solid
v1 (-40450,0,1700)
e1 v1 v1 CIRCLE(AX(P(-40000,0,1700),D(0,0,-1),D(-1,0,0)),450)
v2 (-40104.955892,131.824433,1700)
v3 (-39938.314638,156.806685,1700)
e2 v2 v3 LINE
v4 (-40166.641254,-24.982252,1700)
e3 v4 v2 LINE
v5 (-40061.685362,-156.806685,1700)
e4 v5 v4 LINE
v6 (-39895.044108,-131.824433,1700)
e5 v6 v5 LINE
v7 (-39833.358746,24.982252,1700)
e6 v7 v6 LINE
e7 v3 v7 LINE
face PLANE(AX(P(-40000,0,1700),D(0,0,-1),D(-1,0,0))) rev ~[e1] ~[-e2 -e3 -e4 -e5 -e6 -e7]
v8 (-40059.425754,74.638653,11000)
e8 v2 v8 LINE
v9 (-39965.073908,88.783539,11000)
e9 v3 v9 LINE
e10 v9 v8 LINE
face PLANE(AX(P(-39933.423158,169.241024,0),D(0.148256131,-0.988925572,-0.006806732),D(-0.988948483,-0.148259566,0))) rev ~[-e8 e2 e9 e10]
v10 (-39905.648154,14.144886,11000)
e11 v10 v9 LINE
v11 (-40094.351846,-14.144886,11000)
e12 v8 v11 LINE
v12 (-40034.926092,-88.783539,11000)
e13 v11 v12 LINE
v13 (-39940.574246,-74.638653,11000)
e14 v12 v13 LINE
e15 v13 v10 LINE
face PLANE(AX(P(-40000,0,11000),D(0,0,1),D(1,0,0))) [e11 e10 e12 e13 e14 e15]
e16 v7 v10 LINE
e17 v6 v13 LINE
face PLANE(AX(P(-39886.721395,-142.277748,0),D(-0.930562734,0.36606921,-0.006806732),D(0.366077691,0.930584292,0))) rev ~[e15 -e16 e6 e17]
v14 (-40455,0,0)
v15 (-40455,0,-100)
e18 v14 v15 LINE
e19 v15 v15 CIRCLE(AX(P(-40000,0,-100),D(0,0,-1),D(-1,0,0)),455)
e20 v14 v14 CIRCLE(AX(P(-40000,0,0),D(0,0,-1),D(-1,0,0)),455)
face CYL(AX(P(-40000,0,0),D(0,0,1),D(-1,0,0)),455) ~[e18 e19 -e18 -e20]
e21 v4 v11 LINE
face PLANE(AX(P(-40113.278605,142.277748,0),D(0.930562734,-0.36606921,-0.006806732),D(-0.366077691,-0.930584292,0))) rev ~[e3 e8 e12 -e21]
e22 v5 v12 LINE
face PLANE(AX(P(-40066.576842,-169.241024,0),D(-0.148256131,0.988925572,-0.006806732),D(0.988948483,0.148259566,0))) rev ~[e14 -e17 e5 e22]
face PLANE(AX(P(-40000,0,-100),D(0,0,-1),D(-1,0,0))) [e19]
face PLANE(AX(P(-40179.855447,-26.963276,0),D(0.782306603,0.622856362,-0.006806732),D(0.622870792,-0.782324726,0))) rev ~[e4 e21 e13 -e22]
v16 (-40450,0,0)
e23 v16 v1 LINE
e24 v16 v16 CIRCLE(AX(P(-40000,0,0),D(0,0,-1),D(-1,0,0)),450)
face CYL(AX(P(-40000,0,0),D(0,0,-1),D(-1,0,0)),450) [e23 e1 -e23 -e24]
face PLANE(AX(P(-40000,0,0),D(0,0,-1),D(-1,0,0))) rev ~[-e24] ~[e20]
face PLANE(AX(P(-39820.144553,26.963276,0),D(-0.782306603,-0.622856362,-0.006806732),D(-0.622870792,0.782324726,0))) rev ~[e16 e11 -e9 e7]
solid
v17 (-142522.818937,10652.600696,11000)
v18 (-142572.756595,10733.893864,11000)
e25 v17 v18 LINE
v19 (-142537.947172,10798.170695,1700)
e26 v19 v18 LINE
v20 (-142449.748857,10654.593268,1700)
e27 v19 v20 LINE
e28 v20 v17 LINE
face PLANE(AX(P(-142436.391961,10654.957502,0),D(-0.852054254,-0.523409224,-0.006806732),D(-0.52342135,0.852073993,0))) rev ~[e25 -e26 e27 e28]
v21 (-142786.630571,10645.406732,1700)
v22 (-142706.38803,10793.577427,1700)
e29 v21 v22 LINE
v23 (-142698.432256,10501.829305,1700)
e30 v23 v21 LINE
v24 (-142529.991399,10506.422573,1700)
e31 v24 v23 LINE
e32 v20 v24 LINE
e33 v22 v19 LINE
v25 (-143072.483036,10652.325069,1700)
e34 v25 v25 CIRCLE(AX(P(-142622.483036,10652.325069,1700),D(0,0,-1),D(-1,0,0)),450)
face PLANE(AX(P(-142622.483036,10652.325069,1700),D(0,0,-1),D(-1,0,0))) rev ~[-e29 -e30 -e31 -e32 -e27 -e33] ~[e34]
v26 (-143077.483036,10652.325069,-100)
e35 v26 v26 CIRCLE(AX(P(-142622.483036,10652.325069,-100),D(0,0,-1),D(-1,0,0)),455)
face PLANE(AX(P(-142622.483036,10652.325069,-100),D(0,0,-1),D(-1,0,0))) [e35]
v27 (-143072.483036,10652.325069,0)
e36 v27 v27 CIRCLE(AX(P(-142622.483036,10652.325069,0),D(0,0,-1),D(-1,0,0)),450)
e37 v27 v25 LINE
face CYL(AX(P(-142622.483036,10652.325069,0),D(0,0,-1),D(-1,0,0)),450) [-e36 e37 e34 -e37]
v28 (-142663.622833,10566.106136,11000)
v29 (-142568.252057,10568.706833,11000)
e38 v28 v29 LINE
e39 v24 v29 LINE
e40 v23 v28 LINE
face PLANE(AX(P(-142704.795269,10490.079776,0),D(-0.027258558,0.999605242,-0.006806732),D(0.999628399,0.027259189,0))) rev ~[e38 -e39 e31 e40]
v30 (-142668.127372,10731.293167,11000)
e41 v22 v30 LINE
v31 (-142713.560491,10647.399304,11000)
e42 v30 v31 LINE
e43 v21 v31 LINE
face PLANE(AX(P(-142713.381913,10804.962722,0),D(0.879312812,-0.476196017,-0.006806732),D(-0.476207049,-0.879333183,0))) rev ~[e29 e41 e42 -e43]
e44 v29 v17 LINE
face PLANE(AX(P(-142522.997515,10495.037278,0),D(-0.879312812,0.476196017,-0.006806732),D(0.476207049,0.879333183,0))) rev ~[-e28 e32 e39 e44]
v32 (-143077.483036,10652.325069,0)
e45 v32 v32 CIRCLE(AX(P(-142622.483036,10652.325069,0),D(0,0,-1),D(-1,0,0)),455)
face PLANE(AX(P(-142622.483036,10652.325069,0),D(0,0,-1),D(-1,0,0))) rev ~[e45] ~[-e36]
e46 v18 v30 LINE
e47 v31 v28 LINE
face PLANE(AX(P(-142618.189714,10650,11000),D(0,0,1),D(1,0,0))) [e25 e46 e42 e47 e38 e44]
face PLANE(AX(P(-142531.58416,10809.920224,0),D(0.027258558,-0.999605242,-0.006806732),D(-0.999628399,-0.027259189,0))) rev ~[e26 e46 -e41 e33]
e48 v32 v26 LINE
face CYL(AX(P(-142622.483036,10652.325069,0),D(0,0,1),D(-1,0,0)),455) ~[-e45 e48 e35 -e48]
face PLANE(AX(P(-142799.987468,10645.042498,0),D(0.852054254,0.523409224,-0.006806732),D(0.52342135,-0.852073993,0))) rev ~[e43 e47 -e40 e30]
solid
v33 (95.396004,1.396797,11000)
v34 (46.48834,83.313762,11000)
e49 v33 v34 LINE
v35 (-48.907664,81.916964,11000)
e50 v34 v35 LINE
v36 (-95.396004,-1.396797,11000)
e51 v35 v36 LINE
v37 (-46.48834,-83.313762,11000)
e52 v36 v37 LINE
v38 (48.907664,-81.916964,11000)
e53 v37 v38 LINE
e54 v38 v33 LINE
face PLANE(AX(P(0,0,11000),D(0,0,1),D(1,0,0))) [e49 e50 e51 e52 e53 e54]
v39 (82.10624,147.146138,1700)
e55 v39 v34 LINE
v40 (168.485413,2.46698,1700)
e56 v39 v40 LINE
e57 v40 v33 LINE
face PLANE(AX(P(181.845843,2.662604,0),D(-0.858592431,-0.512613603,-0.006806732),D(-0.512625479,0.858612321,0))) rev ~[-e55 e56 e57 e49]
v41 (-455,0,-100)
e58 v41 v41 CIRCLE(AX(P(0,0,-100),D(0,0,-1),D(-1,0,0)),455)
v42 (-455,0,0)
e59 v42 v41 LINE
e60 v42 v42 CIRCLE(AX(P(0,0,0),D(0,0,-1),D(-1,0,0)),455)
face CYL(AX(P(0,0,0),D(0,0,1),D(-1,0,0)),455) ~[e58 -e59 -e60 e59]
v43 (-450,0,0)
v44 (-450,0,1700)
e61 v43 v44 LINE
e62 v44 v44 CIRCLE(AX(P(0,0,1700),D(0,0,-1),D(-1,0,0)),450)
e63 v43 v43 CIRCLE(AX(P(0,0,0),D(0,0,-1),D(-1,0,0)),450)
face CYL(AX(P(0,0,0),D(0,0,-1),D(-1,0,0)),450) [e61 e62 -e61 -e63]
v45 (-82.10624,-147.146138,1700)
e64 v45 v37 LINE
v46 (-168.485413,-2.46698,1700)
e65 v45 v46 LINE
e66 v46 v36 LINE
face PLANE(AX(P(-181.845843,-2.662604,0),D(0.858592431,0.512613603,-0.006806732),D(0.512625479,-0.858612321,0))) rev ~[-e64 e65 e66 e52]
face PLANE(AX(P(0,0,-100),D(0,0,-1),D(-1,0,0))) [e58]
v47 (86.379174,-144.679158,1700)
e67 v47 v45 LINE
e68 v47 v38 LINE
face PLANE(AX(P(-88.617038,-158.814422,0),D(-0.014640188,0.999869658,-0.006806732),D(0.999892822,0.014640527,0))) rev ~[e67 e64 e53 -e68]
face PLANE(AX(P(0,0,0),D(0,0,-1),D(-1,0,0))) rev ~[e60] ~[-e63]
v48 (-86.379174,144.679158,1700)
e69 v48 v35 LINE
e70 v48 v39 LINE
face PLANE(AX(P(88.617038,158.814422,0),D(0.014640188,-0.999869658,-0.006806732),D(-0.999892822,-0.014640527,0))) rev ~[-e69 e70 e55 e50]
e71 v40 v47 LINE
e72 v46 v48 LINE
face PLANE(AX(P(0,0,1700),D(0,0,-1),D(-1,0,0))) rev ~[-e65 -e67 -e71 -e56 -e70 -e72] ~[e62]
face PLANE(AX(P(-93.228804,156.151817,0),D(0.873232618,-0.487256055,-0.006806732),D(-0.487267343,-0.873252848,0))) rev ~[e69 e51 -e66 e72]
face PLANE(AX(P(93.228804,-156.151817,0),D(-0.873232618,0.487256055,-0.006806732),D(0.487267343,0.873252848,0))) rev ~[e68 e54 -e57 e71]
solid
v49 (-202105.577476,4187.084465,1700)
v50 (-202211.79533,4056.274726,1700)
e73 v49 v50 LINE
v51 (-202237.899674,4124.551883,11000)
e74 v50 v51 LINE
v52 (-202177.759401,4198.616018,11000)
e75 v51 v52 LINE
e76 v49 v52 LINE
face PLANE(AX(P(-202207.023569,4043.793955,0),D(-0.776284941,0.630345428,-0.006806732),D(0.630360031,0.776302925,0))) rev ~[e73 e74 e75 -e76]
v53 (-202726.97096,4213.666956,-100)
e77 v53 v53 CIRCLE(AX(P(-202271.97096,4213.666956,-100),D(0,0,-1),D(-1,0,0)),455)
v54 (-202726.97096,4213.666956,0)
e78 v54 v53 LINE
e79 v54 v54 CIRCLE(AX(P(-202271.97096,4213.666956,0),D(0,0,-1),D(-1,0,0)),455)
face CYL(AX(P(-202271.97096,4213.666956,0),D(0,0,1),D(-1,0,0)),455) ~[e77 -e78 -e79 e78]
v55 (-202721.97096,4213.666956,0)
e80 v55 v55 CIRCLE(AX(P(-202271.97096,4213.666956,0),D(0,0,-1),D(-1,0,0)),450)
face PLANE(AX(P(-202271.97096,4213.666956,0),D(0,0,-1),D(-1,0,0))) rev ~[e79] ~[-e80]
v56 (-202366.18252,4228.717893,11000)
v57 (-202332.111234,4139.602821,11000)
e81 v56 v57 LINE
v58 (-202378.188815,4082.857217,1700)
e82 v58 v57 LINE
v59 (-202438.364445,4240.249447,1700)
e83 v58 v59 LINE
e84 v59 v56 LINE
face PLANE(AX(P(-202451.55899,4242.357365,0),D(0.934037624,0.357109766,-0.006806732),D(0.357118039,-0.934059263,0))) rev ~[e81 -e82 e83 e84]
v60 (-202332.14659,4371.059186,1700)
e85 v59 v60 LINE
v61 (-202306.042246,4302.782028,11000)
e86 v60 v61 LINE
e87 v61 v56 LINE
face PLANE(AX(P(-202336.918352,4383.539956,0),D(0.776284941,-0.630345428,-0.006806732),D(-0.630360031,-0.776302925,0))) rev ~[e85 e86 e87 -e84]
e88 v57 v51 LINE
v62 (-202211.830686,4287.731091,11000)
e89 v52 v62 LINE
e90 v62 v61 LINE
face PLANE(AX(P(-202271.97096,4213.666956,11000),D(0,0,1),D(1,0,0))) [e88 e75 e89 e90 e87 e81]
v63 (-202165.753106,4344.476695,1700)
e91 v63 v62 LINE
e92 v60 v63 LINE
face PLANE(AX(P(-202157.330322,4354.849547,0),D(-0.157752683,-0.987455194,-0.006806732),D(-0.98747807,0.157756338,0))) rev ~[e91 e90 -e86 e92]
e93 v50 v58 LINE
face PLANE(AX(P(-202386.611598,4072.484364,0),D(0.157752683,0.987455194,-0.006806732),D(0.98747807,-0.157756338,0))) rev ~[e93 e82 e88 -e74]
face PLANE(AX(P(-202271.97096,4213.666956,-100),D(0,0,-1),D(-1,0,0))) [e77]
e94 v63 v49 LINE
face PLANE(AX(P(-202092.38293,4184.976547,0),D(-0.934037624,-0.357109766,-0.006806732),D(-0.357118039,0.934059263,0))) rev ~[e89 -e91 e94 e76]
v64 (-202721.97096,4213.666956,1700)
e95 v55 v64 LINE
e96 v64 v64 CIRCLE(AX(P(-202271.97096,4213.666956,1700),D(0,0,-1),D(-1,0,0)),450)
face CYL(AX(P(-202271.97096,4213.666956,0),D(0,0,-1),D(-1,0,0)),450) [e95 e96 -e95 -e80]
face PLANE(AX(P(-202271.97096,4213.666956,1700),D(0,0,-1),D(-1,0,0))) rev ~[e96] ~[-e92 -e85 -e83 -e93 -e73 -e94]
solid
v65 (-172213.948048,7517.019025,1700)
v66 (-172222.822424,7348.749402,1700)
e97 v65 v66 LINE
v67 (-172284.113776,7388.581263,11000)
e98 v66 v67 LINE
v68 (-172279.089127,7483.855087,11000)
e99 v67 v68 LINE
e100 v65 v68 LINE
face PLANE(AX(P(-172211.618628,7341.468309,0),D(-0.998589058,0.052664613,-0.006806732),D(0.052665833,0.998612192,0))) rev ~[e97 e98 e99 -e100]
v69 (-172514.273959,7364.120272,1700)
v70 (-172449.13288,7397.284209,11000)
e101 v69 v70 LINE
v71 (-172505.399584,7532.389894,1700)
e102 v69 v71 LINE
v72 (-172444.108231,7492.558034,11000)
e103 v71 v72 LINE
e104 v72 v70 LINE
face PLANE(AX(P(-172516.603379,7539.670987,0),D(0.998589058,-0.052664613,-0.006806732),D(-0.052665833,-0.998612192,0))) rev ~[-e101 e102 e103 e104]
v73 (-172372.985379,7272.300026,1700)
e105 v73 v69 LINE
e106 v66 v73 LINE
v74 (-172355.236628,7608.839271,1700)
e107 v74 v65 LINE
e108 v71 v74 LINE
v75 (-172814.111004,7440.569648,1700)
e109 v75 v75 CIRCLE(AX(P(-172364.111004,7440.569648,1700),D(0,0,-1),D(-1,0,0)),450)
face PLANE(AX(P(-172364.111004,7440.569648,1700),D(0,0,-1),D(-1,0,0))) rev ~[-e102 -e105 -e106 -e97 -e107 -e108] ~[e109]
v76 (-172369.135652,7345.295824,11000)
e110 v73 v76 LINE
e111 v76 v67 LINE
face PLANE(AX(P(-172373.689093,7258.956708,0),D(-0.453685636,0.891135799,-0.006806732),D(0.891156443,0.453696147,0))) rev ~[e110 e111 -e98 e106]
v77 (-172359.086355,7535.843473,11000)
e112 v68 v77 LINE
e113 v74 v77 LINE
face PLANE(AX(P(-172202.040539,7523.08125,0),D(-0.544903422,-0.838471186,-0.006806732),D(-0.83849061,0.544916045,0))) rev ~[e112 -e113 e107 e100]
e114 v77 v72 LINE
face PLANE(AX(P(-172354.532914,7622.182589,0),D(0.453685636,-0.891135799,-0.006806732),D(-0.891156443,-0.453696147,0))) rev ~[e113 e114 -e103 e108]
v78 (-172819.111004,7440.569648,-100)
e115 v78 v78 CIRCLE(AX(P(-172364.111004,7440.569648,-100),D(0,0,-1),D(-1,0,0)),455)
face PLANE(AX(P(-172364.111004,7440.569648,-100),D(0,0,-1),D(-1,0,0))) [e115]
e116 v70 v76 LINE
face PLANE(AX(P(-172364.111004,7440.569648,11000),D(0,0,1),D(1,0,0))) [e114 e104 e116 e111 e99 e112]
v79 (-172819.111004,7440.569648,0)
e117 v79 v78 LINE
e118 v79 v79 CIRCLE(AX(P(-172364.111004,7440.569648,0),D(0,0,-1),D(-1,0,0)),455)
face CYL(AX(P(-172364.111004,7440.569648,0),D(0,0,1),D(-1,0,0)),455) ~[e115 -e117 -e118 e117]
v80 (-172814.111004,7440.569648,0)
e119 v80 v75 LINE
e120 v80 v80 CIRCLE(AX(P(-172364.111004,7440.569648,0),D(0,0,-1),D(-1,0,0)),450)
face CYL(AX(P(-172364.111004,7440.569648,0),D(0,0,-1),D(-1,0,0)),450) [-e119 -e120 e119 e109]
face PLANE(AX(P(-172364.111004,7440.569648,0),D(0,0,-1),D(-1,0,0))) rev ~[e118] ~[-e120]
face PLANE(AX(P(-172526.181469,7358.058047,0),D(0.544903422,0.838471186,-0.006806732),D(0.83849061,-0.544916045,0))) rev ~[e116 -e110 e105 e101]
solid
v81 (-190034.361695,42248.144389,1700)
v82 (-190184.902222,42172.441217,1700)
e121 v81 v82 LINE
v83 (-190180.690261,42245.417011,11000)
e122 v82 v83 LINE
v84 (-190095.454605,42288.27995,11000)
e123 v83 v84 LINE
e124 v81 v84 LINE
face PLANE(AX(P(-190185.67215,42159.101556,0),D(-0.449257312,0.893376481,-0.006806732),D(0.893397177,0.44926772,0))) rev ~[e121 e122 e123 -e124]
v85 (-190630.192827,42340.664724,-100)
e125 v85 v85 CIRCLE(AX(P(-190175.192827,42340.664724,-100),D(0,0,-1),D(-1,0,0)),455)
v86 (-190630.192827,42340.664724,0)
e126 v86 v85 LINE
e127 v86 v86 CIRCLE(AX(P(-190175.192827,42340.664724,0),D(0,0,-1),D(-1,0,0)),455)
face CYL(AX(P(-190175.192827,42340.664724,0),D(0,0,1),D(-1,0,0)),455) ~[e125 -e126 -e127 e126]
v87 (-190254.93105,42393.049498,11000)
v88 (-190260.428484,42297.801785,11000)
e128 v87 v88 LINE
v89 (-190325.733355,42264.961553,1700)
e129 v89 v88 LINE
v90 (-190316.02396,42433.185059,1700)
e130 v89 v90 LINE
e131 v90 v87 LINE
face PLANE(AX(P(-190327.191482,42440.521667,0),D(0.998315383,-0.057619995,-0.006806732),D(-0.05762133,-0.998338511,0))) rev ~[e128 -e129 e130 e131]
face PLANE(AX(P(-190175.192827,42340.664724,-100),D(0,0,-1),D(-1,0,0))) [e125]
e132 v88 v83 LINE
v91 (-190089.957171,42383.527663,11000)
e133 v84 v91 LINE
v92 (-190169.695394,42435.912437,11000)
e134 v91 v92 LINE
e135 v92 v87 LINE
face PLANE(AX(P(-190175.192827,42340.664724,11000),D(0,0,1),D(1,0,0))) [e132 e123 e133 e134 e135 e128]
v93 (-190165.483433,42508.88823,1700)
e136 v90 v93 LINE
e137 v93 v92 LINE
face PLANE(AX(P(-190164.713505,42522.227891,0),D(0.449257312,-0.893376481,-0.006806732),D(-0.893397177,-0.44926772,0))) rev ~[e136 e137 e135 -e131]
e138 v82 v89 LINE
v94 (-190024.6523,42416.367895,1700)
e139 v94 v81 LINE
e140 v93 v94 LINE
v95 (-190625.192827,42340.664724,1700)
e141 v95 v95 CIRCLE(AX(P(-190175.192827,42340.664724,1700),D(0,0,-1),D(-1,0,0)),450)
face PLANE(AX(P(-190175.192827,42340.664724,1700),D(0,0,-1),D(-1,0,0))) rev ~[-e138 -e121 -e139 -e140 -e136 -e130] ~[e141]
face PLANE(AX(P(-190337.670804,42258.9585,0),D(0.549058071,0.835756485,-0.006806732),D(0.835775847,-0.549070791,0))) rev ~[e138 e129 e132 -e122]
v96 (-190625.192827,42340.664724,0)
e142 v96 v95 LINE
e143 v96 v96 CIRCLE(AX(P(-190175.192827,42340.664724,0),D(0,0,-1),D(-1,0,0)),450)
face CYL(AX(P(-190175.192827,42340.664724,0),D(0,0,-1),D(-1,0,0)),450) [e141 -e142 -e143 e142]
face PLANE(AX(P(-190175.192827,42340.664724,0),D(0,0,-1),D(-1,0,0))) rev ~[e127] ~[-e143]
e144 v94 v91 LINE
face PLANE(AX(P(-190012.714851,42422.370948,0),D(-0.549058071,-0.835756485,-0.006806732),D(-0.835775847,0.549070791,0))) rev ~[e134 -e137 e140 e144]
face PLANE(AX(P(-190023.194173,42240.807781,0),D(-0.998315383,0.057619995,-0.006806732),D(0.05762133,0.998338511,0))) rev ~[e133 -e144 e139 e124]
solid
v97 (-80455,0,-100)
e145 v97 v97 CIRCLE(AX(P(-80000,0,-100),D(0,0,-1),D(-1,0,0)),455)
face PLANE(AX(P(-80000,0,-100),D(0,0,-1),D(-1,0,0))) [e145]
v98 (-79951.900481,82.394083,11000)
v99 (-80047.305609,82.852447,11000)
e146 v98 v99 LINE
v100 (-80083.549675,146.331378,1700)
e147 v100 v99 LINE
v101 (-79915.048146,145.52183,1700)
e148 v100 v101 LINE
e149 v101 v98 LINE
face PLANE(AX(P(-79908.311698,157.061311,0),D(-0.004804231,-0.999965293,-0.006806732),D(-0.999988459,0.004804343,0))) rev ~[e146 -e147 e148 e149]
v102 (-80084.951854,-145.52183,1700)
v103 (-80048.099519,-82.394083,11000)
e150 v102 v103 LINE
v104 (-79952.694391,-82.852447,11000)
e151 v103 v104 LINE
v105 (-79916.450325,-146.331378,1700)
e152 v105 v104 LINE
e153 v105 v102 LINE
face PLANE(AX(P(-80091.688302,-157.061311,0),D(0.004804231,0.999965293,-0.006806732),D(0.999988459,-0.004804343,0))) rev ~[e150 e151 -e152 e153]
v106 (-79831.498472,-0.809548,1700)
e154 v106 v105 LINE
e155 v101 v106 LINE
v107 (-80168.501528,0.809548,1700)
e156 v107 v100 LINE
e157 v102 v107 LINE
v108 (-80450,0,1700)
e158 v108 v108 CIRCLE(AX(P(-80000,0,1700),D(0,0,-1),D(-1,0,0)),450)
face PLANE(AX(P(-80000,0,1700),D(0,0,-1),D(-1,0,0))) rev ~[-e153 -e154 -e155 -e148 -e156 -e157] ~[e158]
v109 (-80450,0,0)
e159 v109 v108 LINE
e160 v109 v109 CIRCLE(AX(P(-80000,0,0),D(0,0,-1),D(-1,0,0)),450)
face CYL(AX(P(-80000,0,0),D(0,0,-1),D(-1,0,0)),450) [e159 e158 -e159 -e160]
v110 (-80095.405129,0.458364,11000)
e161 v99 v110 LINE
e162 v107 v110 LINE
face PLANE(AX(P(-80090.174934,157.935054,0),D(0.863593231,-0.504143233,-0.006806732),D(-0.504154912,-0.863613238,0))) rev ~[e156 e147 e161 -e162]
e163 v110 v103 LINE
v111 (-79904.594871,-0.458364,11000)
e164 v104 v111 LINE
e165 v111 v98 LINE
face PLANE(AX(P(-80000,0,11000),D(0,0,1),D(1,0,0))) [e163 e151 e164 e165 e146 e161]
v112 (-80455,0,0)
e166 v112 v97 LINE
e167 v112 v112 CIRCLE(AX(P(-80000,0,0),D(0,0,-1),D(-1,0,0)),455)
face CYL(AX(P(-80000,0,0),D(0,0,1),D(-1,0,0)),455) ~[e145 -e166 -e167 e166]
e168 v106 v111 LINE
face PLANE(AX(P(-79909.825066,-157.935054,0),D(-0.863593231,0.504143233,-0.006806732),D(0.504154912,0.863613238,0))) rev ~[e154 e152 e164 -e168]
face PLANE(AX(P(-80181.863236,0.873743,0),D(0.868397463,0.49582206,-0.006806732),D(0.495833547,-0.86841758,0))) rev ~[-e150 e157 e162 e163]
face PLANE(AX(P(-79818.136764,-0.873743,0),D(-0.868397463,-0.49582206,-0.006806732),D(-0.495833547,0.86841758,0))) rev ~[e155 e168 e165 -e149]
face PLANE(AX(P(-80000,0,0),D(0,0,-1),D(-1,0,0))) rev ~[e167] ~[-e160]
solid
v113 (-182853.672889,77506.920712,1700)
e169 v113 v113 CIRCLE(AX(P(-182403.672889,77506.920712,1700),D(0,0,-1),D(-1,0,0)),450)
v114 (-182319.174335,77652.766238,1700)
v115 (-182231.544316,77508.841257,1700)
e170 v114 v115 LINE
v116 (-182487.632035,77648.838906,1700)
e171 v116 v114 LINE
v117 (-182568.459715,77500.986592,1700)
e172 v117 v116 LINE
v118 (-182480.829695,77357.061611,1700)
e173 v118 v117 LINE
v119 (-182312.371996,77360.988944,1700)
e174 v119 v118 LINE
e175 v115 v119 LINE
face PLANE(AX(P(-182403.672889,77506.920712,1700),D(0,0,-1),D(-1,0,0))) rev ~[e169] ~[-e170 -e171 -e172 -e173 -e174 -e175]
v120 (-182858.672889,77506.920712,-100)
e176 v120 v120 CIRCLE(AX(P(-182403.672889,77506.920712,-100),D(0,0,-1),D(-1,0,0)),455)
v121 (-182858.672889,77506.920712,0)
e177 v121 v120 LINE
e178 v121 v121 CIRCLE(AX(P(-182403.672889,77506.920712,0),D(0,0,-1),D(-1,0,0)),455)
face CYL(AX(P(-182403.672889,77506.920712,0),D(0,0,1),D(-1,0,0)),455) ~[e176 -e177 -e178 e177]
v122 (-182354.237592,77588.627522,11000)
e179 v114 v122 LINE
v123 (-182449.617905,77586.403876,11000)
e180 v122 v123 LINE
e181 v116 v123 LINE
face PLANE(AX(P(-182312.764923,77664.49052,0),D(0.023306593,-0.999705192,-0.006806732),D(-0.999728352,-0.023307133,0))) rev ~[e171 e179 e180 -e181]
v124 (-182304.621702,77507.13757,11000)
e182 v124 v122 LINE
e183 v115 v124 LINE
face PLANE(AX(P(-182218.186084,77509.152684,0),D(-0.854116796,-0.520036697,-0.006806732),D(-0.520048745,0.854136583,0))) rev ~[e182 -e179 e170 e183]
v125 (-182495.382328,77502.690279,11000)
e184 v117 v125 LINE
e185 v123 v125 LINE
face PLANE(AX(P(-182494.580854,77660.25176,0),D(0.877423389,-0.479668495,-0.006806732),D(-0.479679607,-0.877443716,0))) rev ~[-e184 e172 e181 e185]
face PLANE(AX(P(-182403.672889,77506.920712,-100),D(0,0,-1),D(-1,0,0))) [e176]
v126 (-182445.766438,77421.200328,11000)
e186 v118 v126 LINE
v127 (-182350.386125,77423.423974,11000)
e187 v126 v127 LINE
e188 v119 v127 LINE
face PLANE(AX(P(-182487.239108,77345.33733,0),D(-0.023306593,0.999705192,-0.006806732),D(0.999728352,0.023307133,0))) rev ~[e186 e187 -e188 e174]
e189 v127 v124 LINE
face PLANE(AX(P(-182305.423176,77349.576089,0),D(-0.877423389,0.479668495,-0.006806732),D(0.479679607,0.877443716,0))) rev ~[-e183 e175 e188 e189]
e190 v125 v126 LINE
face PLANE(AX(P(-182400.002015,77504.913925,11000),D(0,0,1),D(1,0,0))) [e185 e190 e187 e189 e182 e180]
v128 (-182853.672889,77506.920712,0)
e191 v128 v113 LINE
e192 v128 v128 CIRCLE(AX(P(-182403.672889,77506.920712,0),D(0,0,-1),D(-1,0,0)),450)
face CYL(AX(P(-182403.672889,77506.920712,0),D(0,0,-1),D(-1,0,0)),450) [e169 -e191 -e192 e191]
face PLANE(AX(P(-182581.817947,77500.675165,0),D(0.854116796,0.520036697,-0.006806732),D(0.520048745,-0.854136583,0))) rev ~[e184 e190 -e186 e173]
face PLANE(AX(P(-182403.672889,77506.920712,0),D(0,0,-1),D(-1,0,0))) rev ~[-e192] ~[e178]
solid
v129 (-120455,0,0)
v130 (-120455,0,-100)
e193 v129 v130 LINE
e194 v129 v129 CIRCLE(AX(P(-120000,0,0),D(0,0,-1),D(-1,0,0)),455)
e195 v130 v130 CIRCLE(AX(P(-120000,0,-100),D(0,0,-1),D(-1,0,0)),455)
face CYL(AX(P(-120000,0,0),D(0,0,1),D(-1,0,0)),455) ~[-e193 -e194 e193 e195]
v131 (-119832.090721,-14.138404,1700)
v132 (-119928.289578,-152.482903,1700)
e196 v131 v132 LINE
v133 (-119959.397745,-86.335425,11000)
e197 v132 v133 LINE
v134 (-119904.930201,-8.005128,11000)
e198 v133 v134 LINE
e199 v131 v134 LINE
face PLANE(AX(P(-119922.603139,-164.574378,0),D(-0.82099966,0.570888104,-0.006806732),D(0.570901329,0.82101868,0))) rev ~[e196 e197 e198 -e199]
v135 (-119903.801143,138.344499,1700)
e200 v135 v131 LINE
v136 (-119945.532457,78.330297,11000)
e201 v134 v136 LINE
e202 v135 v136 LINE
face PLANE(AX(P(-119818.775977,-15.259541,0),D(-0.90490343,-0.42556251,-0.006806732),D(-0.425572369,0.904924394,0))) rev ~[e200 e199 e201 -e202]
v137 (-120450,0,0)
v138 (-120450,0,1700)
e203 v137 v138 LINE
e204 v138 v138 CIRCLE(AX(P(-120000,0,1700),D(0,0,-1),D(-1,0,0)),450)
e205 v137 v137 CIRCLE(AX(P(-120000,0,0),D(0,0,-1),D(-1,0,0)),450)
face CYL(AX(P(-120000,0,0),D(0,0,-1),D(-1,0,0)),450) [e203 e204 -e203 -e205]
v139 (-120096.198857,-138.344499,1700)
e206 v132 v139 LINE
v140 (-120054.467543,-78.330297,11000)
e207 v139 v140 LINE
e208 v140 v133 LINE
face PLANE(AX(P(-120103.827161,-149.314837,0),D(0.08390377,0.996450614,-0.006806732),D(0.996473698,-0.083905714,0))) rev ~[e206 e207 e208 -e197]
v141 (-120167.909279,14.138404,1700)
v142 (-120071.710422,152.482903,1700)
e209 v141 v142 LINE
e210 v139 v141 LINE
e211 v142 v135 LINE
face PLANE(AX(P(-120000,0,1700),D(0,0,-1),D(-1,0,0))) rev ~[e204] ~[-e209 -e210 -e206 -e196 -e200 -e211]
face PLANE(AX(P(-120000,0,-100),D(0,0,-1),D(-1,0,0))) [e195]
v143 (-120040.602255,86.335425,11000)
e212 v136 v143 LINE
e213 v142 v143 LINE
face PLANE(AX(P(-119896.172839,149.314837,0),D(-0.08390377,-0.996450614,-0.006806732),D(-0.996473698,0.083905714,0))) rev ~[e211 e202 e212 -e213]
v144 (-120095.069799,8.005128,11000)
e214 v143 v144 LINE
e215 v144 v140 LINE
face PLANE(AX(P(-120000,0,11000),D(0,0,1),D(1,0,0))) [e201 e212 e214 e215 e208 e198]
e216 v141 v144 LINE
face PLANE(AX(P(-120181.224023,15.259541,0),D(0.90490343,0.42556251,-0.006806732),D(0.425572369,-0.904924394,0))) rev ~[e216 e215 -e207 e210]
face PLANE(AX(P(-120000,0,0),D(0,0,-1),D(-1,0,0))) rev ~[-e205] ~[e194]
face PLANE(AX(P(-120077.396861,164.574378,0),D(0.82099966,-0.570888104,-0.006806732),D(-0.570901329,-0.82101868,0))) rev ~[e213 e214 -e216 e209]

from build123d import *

# Parameters (mm, degrees)
SALIENTE_EXTRUIR1_DEPTH           = 11000
SALIENTE_EXTRUIR1_DRAFT           = 0.39
SALIENTE_EXTRUIR1_PROFILE_2_DEPTH = 11000
SALIENTE_EXTRUIR1_PROFILE_2_DRAFT = 0.39
SALIENTE_EXTRUIR1_PROFILE_3_DEPTH = 11000
SALIENTE_EXTRUIR1_PROFILE_3_DRAFT = 0.39
SALIENTE_EXTRUIR1_PROFILE_4_DEPTH = 11000
SALIENTE_EXTRUIR1_PROFILE_4_DRAFT = 0.39
SALIENTE_EXTRUIR1_PROFILE_5_DEPTH = 11000
SALIENTE_EXTRUIR1_PROFILE_5_DRAFT = 0.39
SALIENTE_EXTRUIR1_PROFILE_6_DEPTH = 11000
SALIENTE_EXTRUIR1_PROFILE_6_DRAFT = 0.39
SALIENTE_EXTRUIR1_PROFILE_7_DEPTH = 11000
SALIENTE_EXTRUIR1_PROFILE_7_DRAFT = 0.39
SALIENTE_EXTRUIR1_PROFILE_8_DEPTH = 11000
SALIENTE_EXTRUIR1_PROFILE_8_DRAFT = 0.39
SALIENTE_EXTRUIR1_PROFILE_9_DEPTH = 11000
SALIENTE_EXTRUIR1_PROFILE_9_DRAFT = 0.39
CROQUIS9_R                        = 450
SALIENTE_EXTRUIR8_DEPTH           = 1700
CROQUIS10_R                       = 455
SALIENTE_EXTRUIR9_DEPTH           = 100
CROQUIS11_R                       = 574.012374022
CORTAR_EXTRUIR1_DEPTH             = 3000
CROQUIS12_R                       = 450
SALIENTE_EXTRUIR10_DEPTH          = 1700
CROQUIS13_R                       = 455
SALIENTE_EXTRUIR11_DEPTH          = 100


with BuildPart() as part:
    # Croquis1 → Saliente-Extruir1 (with draft: the straight prism first)
    with BuildSketch(Plane.XY):
        Polygon((88.617038428, 158.814421575), (-93.228804357, 156.151817274), (-181.845842785, -2.662604301), (-88.617038428, -158.814421575), (93.228804357, -156.151817274), (181.845842785, 2.662604301), align=None)
    extrude(amount=SALIENTE_EXTRUIR1_DEPTH)
    # Saliente-Extruir1: the draft: its side faces are tilted about the plane it starts from
    saliente_extruir1_sides = [part.faces().sort_by_distance(p)[0] for p in [
        (-2.305882965, 157.483119425, 5500),
        (-137.537323571, 76.744606487, 5500),
        (-135.231440607, -80.738512938, 5500),
        (2.305882965, -157.483119425, 5500),
        (137.537323571, -76.744606487, 5500),
        (135.231440607, 80.738512938, 5500),
    ]]
    draft(saliente_extruir1_sides, Plane.XY, SALIENTE_EXTRUIR1_DRAFT)



with BuildPart() as body_2:
    # Croquis1 → Saliente-Extruir1 profile 2 (with draft: the straight prism first)
    with BuildSketch(Plane.XY):
        Polygon((-39933.423158214, 169.241023803), (-40113.278605083, 142.277748192), (-40179.855446869, -26.963275611), (-40066.576841786, -169.241023803), (-39886.721394917, -142.277748192), (-39820.144553131, 26.963275611), align=None)
    extrude(amount=SALIENTE_EXTRUIR1_PROFILE_2_DEPTH)
    # Saliente-Extruir1 profile 2: the draft: its side faces are tilted about the plane it starts from
    saliente_extruir1_profile_2_sides = [body_2.faces().sort_by_distance(p)[0] for p in [
        (-40023.350881648, 155.759385997, 5500),
        (-40146.567025976, 57.65723629, 5500),
        (-40123.216144327, -98.102149707, 5500),
        (-39976.649118352, -155.759385997, 5500),
        (-39853.432974024, -57.65723629, 5500),
        (-39876.783855673, 98.102149707, 5500),
    ]]
    draft(saliente_extruir1_profile_2_sides, Plane.XY, SALIENTE_EXTRUIR1_PROFILE_2_DRAFT)


with BuildPart() as body_3:
    # Croquis1 → Saliente-Extruir1 profile 3 (with draft: the straight prism first)
    with BuildSketch(Plane.XY):
        Polygon((-182312.764922916, 77664.490519876), (-182494.580854337, 77660.251760415), (-182581.817946673, 77500.675165262), (-182487.239107589, 77345.337329569), (-182305.423176169, 77349.576089031), (-182218.186083832, 77509.152684184), align=None)
    extrude(amount=SALIENTE_EXTRUIR1_PROFILE_3_DEPTH)
    # Saliente-Extruir1 profile 3: the draft: its side faces are tilted about the plane it starts from
    saliente_extruir1_profile_3_sides = [body_3.faces().sort_by_distance(p)[0] for p in [
        (-182403.672888627, 77662.371140145, 5500),
        (-182538.199400505, 77580.463462838, 5500),
        (-182534.528527131, 77423.006247416, 5500),
        (-182396.331141879, 77347.4567093, 5500),
        (-182261.80463, 77429.364386607, 5500),
        (-182265.475503374, 77586.82160203, 5500),
    ]]
    draft(saliente_extruir1_profile_3_sides, Plane.XY, SALIENTE_EXTRUIR1_PROFILE_3_DRAFT)

    # Croquis12 → Saliente-Extruir10 (add)
    with BuildSketch(Plane(origin=(0, 0, 0), x_dir=(-1, 0, 0), z_dir=(0, 0, -1))):
        with Locations((182403.672888627, 77506.920712242)):
            Circle(CROQUIS12_R)
    extrude(amount=-SALIENTE_EXTRUIR10_DEPTH)

    # Croquis13 → Saliente-Extruir11 (add)
    with BuildSketch(Plane(origin=(0, 0, 0), x_dir=(-1, 0, 0), z_dir=(0, 0, -1))):
        with Locations((182403.672888627, 77506.920712242)):
            Circle(CROQUIS13_R)
    extrude(amount=SALIENTE_EXTRUIR11_DEPTH)


with BuildPart() as body_4:
    # Croquis1 → Saliente-Extruir1 profile 4 (with draft: the straight prism first)
    with BuildSketch(Plane.XY):
        Polygon((-79908.3116981, 157.061310623), (-80090.174934002, 157.935053987), (-80181.863235901, 0.873743363), (-80091.6883019, -157.061310623), (-79909.825065998, -157.935053987), (-79818.136764099, -0.873743363), align=None)
    extrude(amount=SALIENTE_EXTRUIR1_PROFILE_4_DEPTH)
    # Saliente-Extruir1 profile 4: the draft: its side faces are tilted about the plane it starts from
    saliente_extruir1_profile_4_sides = [body_4.faces().sort_by_distance(p)[0] for p in [
        (-79999.243316051, 157.498182305, 5500),
        (-80136.019084952, 79.404398675, 5500),
        (-80136.775768901, -78.09378363, 5500),
        (-80000.756683949, -157.498182305, 5500),
        (-79863.980915048, -79.404398675, 5500),
        (-79863.224231099, 78.09378363, 5500),
    ]]
    draft(saliente_extruir1_profile_4_sides, Plane.XY, SALIENTE_EXTRUIR1_PROFILE_4_DRAFT)


with BuildPart() as body_5:
    # Croquis1 → Saliente-Extruir1 profile 5 (with draft: the straight prism first)
    with BuildSketch(Plane.XY):
        Polygon((-119896.172838657, 149.314837064), (-120077.396861388, 164.574377857), (-120181.224022731, 15.259540793), (-120103.827161343, -149.314837064), (-119922.603138612, -164.574377858), (-119818.775977269, -15.259540793), align=None)
    extrude(amount=SALIENTE_EXTRUIR1_PROFILE_5_DEPTH)
    # Saliente-Extruir1 profile 5: the draft: its side faces are tilted about the plane it starts from
    saliente_extruir1_profile_5_sides = [body_5.faces().sort_by_distance(p)[0] for p in [
        (-119986.784850023, 156.944607461, 5500),
        (-120129.31044206, 89.916959325, 5500),
        (-120142.525592037, -67.027648136, 5500),
        (-120013.215149977, -156.944607461, 5500),
        (-119870.68955794, -89.916959325, 5500),
        (-119857.474407963, 67.027648135, 5500),
    ]]
    draft(saliente_extruir1_profile_5_sides, Plane.XY, SALIENTE_EXTRUIR1_PROFILE_5_DRAFT)


with BuildPart() as body_6:
    # Croquis1 → Saliente-Extruir1 profile 6 (with draft: the straight prism first)
    with BuildSketch(Plane.XY):
        Polygon((-142531.584159759, 10809.920223672), (-142713.38191326, 10804.962722093), (-142799.987467705, 10645.042498421), (-142704.795268648, 10490.079776328), (-142522.997515147, 10495.037277906), (-142436.391960702, 10654.957501579), align=None)
    extrude(amount=SALIENTE_EXTRUIR1_PROFILE_6_DEPTH)
    # Saliente-Extruir1 profile 6: the draft: its side faces are tilted about the plane it starts from
    saliente_extruir1_profile_6_sides = [body_6.faces().sort_by_distance(p)[0] for p in [
        (-142622.48303651, 10807.441472883, 5500),
        (-142756.684690483, 10725.002610257, 5500),
        (-142752.391368176, 10567.561137374, 5500),
        (-142613.896391897, 10492.558527117, 5500),
        (-142479.694737925, 10574.997389742, 5500),
        (-142483.988060231, 10732.438862625, 5500),
    ]]
    draft(saliente_extruir1_profile_6_sides, Plane.XY, SALIENTE_EXTRUIR1_PROFILE_6_DRAFT)


with BuildPart() as body_7:
    # Croquis1 → Saliente-Extruir1 profile 7 (with draft: the straight prism first)
    with BuildSketch(Plane.XY):
        Polygon((-190012.71485084, 42422.370948195), (-190164.71350507, 42522.22789143), (-190327.191481771, 42440.521667144), (-190337.670804241, 42258.958499622), (-190185.672150011, 42159.101556387), (-190023.194173311, 42240.807780673), align=None)
    extrude(amount=SALIENTE_EXTRUIR1_PROFILE_7_DEPTH)
    # Saliente-Extruir1 profile 7: the draft: its side faces are tilted about the plane it starts from
    saliente_extruir1_profile_7_sides = [body_7.faces().sort_by_distance(p)[0] for p in [
        (-190088.714177955, 42472.299419813, 5500),
        (-190245.95249342, 42481.374779287, 5500),
        (-190332.431143006, 42349.740083383, 5500),
        (-190261.671477126, 42209.030028004, 5500),
        (-190104.433161661, 42199.95466853, 5500),
        (-190017.954512075, 42331.589364434, 5500),
    ]]
    draft(saliente_extruir1_profile_7_sides, Plane.XY, SALIENTE_EXTRUIR1_PROFILE_7_DRAFT)


with BuildPart() as body_8:
    # Croquis1 → Saliente-Extruir1 profile 8 (with draft: the straight prism first)
    with BuildSketch(Plane.XY):
        Polygon((-172211.618628127, 7341.468309254), (-172202.04053876, 7523.081249884), (-172354.532914317, 7622.18258891), (-172516.603379242, 7539.670987307), (-172526.181468609, 7358.058046678), (-172373.689093052, 7258.956707652), align=None)
    extrude(amount=SALIENTE_EXTRUIR1_PROFILE_8_DEPTH)
    # Saliente-Extruir1 profile 8: the draft: its side faces are tilted about the plane it starts from
    saliente_extruir1_profile_8_sides = [body_8.faces().sort_by_distance(p)[0] for p in [
        (-172206.829583443, 7432.274779569, 5500),
        (-172278.286726538, 7572.631919397, 5500),
        (-172435.568146779, 7580.926788109, 5500),
        (-172521.392423925, 7448.864516993, 5500),
        (-172449.93528083, 7308.507377165, 5500),
        (-172292.653860589, 7300.212508453, 5500),
    ]]
    draft(saliente_extruir1_profile_8_sides, Plane.XY, SALIENTE_EXTRUIR1_PROFILE_8_DRAFT)


with BuildPart() as body_9:
    # Croquis1 → Saliente-Extruir1 profile 9 (with draft: the straight prism first)
    with BuildSketch(Plane.XY):
        Polygon((-202157.330322157, 4354.849547188), (-202336.918351888, 4383.539956337), (-202451.558989922, 4242.357364948), (-202386.611598224, 4072.484364411), (-202207.023568493, 4043.793955261), (-202092.38293046, 4184.97654665), align=None)
    extrude(amount=SALIENTE_EXTRUIR1_PROFILE_9_DEPTH)
    # Saliente-Extruir1 profile 9: the draft: its side faces are tilted about the plane it starts from
    saliente_extruir1_profile_9_sides = [body_9.faces().sort_by_distance(p)[0] for p in [
        (-202247.124337023, 4369.194751762, 5500),
        (-202394.238670905, 4312.948660642, 5500),
        (-202419.085294073, 4157.420864679, 5500),
        (-202296.817583359, 4058.139159836, 5500),
        (-202149.703249477, 4114.385250956, 5500),
        (-202124.856626308, 4269.913046919, 5500),
    ]]
    draft(saliente_extruir1_profile_9_sides, Plane.XY, SALIENTE_EXTRUIR1_PROFILE_9_DRAFT)


with BuildPart() as part_1:
    add(part.part)

    add(body_2.part)  # Saliente-Extruir8 merges body 2

    add(body_4.part)  # Saliente-Extruir8 merges body 4

    add(body_5.part)  # Saliente-Extruir8 merges body 5

    add(body_6.part)  # Saliente-Extruir8 merges body 6

    add(body_7.part)  # Saliente-Extruir8 merges body 7

    add(body_8.part)  # Saliente-Extruir8 merges body 8

    add(body_9.part)  # Saliente-Extruir8 merges body 9
    # Croquis9 → Saliente-Extruir8 (add)
    with BuildSketch(Plane(origin=(0, 0, 0), x_dir=(-1, 0, 0), z_dir=(0, 0, -1))):
        Circle(CROQUIS9_R)
        with Locations((40000, 0)):
            Circle(CROQUIS9_R)
        with Locations((80000, 0)):
            Circle(CROQUIS9_R)
        with Locations((120000, 0)):
            Circle(CROQUIS9_R)
        with Locations((142622.48303651, 10652.325069026)):
            Circle(CROQUIS9_R)
        with Locations((172364.111003684, 7440.569648281)):
            Circle(CROQUIS9_R)
        with Locations((202271.970960191, 4213.666955799)):
            Circle(CROQUIS9_R)
        with Locations((190175.192827541, 42340.664723909)):
            Circle(CROQUIS9_R)
        with Locations((185900.002015253, 77404.913924723)):
            Circle(CROQUIS9_R)
    extrude(amount=-SALIENTE_EXTRUIR8_DEPTH)

    # Croquis10 → Saliente-Extruir9 (add)
    with BuildSketch(Plane(origin=(0, 0, 0), x_dir=(-1, 0, 0), z_dir=(0, 0, -1))):
        Circle(CROQUIS10_R)
        with Locations((40000, 0)):
            Circle(CROQUIS10_R)
        with Locations((80000, 0)):
            Circle(CROQUIS10_R)
        with Locations((120000, 0)):
            Circle(CROQUIS10_R)
        with Locations((142622.48303651, 10652.325069026)):
            Circle(CROQUIS10_R)
        with Locations((172364.111003684, 7440.569648281)):
            Circle(CROQUIS10_R)
        with Locations((202271.970960191, 4213.666955799)):
            Circle(CROQUIS10_R)
        with Locations((190175.192827541, 42340.664723909)):
            Circle(CROQUIS10_R)
        with Locations((185900.002015253, 77404.913924723)):
            Circle(CROQUIS10_R)
    extrude(amount=SALIENTE_EXTRUIR9_DEPTH)

    # Croquis11 → Cortar-Extruir1 (cut)
    with BuildSketch(Plane.XY.offset(1700)):
        with Locations((-185902.963496918, 77444.135338977)):
            Circle(CROQUIS11_R)
    extrude(amount=-CORTAR_EXTRUIR1_DEPTH, mode=Mode.SUBTRACT)


solid = Compound([body_3.part, part_1.part])
